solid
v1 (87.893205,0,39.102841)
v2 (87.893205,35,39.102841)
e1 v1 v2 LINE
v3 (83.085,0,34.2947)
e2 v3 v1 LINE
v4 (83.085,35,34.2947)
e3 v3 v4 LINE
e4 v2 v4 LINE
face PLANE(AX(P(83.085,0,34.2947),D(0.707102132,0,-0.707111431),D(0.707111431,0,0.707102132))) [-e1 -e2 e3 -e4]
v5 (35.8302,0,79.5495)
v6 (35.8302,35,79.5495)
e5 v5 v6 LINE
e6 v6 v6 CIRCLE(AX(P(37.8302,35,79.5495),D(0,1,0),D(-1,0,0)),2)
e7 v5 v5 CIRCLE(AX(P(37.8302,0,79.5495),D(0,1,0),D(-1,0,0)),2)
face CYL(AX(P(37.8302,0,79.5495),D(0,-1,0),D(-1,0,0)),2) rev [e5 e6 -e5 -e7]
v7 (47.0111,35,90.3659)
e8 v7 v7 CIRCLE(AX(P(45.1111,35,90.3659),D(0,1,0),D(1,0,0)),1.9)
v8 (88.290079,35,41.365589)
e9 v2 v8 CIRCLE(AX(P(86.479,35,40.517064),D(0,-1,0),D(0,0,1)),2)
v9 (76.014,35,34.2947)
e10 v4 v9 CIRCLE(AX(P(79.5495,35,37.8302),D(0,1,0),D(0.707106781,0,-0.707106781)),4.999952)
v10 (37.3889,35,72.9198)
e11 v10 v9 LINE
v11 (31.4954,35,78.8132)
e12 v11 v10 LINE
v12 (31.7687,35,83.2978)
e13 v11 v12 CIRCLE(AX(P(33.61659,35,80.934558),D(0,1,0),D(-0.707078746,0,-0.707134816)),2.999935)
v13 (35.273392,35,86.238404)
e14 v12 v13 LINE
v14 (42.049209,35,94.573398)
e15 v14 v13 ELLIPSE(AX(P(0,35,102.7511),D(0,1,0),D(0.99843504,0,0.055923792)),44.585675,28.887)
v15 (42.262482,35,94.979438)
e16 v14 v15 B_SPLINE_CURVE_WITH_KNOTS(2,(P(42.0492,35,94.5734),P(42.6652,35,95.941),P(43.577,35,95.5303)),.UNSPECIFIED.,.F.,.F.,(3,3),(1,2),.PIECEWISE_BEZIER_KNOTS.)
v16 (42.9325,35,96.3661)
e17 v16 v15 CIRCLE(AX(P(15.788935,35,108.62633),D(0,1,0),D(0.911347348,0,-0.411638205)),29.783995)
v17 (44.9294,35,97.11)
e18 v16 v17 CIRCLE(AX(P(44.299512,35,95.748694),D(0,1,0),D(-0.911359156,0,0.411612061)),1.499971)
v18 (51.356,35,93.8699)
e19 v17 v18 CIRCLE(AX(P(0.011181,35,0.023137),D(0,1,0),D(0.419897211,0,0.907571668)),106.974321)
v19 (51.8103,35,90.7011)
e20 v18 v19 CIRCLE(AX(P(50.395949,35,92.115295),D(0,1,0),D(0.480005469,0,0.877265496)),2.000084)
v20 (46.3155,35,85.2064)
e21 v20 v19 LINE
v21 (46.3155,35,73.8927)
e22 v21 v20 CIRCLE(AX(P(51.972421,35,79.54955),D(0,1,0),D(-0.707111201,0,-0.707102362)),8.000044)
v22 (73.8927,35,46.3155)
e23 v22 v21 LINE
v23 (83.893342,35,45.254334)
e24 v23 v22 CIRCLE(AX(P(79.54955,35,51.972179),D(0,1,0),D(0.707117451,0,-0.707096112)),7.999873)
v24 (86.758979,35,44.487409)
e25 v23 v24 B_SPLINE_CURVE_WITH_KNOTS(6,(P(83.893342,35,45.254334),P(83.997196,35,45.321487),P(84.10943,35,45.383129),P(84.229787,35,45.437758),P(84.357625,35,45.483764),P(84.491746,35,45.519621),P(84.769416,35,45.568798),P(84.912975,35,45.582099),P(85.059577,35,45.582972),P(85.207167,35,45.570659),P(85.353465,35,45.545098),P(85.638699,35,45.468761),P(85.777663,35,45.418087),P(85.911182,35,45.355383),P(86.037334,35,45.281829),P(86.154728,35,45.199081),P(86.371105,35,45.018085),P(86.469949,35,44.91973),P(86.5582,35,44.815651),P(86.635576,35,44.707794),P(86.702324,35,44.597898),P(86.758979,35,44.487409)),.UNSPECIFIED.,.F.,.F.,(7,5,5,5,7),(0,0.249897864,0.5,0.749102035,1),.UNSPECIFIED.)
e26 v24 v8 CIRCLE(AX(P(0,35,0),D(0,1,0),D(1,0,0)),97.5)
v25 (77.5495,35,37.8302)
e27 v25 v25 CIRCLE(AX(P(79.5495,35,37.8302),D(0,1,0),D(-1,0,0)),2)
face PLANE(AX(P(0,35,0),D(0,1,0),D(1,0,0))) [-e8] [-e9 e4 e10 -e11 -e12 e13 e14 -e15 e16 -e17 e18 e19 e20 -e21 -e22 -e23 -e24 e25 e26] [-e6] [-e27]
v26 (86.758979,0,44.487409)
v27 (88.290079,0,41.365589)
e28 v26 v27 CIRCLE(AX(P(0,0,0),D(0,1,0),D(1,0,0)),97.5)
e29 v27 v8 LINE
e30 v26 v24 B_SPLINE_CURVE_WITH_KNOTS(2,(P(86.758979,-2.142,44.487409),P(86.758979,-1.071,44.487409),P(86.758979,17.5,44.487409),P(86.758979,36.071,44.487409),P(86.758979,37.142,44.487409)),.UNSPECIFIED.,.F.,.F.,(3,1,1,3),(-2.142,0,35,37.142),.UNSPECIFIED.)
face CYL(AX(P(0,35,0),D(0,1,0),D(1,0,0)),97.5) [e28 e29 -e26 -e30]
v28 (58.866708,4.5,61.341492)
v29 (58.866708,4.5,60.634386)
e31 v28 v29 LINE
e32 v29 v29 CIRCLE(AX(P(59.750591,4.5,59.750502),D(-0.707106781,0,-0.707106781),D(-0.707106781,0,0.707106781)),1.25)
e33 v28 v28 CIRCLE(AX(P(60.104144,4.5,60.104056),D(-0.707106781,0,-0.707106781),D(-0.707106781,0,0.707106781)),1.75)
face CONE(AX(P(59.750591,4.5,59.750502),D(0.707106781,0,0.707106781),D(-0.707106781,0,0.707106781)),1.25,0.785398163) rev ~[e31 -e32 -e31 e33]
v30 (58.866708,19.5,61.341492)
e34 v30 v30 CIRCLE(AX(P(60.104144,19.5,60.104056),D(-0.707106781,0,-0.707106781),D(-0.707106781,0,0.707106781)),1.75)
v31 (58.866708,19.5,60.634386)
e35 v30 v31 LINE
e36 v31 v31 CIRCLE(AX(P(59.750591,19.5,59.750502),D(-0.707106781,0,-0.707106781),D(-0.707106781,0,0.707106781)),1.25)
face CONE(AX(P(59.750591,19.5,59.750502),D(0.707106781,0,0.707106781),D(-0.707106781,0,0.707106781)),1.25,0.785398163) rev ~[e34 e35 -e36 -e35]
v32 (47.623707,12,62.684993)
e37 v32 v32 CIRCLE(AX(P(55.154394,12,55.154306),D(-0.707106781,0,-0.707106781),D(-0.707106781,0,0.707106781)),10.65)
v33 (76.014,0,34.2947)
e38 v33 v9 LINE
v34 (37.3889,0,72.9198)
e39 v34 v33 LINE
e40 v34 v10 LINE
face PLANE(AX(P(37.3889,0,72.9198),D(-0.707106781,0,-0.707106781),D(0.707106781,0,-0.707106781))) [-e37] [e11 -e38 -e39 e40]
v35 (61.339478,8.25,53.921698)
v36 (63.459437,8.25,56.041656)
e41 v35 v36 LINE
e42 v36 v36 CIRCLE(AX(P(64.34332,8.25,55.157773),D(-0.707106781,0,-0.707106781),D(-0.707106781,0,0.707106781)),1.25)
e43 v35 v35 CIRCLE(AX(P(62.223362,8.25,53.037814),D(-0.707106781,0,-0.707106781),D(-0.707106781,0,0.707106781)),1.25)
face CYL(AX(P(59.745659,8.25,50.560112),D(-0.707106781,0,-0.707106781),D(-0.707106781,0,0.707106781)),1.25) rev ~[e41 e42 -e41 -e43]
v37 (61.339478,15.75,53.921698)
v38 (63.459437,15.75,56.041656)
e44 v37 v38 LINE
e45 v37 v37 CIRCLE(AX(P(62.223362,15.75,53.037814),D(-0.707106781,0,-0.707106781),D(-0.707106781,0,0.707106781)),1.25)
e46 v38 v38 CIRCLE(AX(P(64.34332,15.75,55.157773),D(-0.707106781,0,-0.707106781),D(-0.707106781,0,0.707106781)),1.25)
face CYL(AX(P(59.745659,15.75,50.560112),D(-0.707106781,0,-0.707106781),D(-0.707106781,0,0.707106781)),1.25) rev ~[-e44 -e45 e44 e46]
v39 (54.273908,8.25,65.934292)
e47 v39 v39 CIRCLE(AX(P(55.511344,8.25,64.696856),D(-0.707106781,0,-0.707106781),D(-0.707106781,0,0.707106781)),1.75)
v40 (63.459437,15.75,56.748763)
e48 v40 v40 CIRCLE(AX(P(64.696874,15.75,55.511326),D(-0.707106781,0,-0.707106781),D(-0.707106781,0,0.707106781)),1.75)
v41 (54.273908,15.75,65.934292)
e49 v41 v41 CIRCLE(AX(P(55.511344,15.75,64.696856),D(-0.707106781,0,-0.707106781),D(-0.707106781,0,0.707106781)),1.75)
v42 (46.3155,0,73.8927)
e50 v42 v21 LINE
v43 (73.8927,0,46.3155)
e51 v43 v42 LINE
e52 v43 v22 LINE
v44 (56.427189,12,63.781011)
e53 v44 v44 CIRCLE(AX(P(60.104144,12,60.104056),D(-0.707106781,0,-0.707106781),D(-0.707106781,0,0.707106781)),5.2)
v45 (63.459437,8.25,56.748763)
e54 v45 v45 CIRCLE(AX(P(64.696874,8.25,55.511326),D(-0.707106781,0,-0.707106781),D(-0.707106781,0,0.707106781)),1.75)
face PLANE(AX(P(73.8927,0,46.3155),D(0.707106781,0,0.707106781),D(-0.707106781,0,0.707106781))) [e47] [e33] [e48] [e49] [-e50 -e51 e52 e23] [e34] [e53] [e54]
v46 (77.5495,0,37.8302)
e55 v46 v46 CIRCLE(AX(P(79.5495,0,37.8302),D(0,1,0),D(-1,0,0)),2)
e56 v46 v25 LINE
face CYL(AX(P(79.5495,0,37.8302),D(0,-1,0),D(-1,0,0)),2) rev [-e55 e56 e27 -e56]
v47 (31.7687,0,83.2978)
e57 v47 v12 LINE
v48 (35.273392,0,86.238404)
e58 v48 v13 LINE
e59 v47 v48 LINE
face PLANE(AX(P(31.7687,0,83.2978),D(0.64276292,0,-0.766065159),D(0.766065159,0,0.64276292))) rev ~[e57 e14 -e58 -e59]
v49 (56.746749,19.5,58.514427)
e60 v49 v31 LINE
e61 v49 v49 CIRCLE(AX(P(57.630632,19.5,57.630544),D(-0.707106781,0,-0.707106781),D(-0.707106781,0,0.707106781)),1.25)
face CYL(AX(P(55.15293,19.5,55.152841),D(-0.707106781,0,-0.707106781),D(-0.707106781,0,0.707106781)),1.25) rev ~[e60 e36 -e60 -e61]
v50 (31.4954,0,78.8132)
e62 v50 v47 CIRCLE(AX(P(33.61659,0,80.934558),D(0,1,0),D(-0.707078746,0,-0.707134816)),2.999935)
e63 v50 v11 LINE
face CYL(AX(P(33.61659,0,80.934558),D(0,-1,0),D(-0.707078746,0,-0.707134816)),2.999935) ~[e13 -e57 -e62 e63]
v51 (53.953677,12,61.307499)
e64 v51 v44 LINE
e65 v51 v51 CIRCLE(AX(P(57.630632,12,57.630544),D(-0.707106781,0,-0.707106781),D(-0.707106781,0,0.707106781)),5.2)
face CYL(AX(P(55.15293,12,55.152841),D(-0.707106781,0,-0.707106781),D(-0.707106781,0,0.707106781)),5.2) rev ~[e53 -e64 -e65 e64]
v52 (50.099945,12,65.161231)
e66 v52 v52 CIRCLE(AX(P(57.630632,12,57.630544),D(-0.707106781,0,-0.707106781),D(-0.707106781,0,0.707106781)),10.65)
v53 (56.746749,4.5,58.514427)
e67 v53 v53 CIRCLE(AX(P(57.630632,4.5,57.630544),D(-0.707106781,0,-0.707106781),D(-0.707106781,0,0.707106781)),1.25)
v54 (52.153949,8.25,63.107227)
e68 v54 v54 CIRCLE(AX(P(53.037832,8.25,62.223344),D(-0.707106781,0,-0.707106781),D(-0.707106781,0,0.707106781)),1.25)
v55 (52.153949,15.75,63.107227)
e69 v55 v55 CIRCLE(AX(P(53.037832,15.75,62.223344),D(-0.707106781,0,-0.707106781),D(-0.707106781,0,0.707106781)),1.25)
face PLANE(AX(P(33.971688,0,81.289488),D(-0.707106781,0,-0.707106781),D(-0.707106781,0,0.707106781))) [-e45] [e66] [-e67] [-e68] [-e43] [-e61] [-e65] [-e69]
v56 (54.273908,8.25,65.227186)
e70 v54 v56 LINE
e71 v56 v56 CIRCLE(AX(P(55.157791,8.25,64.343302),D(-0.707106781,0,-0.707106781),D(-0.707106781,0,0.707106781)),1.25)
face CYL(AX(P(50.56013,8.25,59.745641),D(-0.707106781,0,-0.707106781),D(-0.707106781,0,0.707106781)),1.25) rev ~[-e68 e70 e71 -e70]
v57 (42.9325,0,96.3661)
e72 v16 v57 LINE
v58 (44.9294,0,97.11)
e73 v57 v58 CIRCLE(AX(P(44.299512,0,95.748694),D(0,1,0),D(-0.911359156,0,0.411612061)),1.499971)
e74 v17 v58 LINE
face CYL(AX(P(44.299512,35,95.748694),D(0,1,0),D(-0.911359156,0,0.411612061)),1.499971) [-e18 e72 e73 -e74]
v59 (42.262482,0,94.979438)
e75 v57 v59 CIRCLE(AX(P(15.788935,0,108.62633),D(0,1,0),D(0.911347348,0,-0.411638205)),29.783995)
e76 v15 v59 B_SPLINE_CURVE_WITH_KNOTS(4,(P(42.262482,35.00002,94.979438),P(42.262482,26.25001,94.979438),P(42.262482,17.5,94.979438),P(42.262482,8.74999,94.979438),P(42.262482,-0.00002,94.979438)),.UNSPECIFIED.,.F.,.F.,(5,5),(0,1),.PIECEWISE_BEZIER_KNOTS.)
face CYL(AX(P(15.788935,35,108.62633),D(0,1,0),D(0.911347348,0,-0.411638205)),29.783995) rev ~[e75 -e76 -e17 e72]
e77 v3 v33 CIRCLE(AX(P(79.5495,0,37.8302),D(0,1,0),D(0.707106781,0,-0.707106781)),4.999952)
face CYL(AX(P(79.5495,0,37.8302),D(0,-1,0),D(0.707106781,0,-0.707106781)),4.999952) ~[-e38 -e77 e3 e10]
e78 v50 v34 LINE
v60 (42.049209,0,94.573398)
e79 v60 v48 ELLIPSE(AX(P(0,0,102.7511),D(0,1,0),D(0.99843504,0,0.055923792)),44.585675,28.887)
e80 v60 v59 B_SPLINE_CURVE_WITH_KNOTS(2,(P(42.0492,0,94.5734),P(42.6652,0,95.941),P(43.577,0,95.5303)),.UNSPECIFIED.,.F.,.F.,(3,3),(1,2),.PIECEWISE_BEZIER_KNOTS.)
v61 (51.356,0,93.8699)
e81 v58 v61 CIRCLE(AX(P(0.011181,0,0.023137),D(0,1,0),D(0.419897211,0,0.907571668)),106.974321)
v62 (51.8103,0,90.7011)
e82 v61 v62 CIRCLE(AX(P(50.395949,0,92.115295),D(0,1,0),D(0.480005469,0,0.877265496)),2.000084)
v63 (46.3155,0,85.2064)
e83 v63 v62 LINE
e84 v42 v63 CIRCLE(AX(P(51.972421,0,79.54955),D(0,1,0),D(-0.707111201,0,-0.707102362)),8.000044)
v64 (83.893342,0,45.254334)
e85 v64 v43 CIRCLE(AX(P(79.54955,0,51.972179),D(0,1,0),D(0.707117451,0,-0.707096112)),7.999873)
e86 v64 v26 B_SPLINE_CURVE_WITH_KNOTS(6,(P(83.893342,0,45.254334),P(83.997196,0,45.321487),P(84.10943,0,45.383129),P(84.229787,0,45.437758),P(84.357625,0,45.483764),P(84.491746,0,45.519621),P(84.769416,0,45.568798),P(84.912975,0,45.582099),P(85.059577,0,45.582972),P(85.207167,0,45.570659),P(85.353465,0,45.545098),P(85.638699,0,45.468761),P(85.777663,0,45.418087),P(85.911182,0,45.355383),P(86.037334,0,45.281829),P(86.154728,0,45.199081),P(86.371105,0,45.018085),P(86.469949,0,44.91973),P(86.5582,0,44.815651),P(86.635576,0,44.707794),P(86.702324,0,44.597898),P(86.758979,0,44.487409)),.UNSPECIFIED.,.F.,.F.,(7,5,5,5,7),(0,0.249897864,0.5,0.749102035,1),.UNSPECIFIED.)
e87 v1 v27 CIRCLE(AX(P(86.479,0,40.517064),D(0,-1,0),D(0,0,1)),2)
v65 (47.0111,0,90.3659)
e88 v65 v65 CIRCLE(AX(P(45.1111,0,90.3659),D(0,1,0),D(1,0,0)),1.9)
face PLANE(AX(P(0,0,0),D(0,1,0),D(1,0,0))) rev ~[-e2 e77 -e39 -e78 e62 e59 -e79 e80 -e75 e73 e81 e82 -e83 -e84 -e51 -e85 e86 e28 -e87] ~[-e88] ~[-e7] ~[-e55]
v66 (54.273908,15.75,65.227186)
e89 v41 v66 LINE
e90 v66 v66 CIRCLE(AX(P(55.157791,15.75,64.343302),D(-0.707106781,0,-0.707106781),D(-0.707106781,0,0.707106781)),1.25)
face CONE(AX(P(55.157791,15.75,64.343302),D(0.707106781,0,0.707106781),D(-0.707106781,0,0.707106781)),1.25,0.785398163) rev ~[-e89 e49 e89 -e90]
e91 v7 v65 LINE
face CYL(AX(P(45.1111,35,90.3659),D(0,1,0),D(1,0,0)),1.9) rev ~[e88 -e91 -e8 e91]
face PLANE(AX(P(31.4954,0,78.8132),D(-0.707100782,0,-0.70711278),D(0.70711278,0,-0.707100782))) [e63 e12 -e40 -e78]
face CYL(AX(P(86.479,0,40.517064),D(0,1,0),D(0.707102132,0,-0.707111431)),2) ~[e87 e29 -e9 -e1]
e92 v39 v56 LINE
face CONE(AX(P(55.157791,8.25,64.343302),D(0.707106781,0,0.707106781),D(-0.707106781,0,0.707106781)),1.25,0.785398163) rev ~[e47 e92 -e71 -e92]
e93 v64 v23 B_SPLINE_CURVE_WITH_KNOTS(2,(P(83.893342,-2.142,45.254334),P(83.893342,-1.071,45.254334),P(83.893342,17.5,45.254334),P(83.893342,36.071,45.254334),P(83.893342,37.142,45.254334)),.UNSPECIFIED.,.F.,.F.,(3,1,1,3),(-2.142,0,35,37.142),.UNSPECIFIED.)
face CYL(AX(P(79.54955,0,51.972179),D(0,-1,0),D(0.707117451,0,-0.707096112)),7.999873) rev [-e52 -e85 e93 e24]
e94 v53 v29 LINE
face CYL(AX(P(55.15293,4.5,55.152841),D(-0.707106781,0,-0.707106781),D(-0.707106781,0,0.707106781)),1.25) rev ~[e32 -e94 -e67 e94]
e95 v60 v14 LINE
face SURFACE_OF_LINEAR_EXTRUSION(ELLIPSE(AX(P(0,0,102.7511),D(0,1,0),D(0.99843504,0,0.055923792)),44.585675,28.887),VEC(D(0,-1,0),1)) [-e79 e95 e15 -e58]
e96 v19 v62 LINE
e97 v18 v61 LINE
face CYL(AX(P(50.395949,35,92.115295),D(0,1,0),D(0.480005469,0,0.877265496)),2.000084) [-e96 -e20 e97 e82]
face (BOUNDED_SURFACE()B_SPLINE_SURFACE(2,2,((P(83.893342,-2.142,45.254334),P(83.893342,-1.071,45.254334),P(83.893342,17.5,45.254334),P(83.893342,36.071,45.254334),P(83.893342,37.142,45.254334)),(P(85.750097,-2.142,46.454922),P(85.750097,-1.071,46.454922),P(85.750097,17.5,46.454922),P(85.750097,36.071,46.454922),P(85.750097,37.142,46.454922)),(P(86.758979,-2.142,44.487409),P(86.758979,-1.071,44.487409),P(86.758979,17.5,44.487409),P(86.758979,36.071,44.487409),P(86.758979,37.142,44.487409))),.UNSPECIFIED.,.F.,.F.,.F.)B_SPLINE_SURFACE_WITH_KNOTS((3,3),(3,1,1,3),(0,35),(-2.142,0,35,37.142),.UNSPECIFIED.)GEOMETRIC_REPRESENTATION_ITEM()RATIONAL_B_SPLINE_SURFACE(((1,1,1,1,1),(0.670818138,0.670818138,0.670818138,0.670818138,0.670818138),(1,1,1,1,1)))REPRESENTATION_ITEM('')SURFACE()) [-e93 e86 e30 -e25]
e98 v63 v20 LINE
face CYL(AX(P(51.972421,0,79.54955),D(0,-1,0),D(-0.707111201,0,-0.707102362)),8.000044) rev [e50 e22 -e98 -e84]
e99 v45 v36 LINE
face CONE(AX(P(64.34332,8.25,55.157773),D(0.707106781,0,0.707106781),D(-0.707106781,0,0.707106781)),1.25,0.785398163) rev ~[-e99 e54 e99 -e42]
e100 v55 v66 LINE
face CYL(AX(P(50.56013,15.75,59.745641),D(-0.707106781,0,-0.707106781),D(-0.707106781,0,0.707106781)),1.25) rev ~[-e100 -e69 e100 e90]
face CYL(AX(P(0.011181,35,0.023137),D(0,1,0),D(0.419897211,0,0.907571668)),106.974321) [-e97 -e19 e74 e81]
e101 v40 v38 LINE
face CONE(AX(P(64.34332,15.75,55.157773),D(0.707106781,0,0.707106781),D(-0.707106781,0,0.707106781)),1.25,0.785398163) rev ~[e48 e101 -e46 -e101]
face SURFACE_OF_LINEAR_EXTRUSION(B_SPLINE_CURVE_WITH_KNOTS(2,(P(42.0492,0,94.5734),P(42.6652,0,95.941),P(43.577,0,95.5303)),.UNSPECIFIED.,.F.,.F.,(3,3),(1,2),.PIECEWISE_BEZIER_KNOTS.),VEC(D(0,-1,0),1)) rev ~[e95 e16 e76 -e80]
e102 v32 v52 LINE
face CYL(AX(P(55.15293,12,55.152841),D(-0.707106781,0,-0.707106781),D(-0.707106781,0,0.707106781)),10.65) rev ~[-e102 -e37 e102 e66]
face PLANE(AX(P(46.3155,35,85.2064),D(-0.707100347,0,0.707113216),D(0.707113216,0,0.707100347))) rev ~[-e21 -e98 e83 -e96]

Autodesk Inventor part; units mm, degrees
ref_plane "YZ Plane" through (0, 0, 0) normal (1, 0, 0) x (0, 1, 0)
ref_plane "XZ Plane" through (0, 0, 0) normal (0, 1, 0) x (-1, 0, 0)
ref_plane "XY Plane" through (0, 0, 0) normal (0, 0, 1) x (1, 0, 0)
sketch "Эскиз1" plane through (0, 0, 0) normal (0, 1, 0) x (-1, 0, 0)
  line L0 (34.2947, -76.014) -> (76.014, -34.2947)
  arc A0 (83.085, -34.2947) -> (76.014, -34.2947) centre (79.5495, -37.8302) ccw
  line L1 (83.085, -34.2947) -> (87.156, -38.3657)
  line L2 (46.3155, -73.8927) -> (73.8927, -46.3155)
  arc A1 (85.2064, -46.3155) -> (73.8927, -46.3155) centre (79.5495, -51.9723) ccw
  line L3 (85.2064, -46.3155) -> (87.5645, -48.6736)
  line L4 (92.5543, -49.5852) -> (94.5192, -45.7288)
  line L5 (87.156, -38.3657) -> (94.5192, -45.7288)
  line L6 (34.2947, -83.085) -> (38.3657, -87.156)
  arc A2 (34.2947, -76.014) -> (34.2947, -83.085) centre (37.8302, -79.5495) ccw
  arc A3 (46.3155, -73.8927) -> (46.3155, -85.2064) centre (51.9723, -79.5495) ccw
  line L7 (48.6736, -87.5645) -> (46.3155, -85.2064)
  line L8 (48.7014, -93.0224) -> (45.7288, -94.5192)
  line L9 (38.3657, -87.156) -> (45.7288, -94.5192)
  spline S0 degree 4 poles (87.5645, -48.6736) (88.1327, -49.2418) (88.8708, -49.8865) (89.7495, -50.471) (90.7127, -50.7263) (91.4939, -50.6999) (92.0261, -50.3682) (92.3519, -49.9478) (92.5543, -49.5852) knots 0 0 0 0 0 0.3763 0.501335 0.614666 0.722287 1 1 1 1 1
  spline S1 degree 4 poles (48.6736, -87.5645) (49.2196, -88.1111) (49.8318, -88.8375) (50.3553, -89.7359) (50.492, -90.7638) (50.3179, -91.6771) (49.7988, -92.3195) (49.2087, -92.7429) (48.7014, -93.0224) knots 0 0 0 0 0 0.349502 0.469309 0.582088 0.694155 1 1 1 1 1
  line L10 (-34.2947, -83.085) -> (-38.3657, -87.156)
  arc A4 (-34.2947, -83.085) -> (-34.2947, -76.014) centre (-37.8302, -79.5495) ccw
  line L11 (-34.2947, -76.014) -> (-76.014, -34.2947)
  arc A5 (-76.014, -34.2947) -> (-83.085, -34.2947) centre (-79.5495, -37.8302) ccw
  line L12 (-83.085, -34.2947) -> (-87.156, -38.3657)
  spline S2 degree 4 poles (-87.5645, -48.6736) (-88.2914, -48.9094) (-89.2091, -49.1493) (-90.2171, -49.3451) (-91.178, -49.4896) (-91.8014, -49.5703) (-92.1946, -49.6038) (-92.4379, -49.6109) (-92.5543, -49.5852) knots 0 0 0 0 0 0.418221 0.558077 0.681071 0.788407 1 1 1 1 1
  line L13 (-85.2064, -46.3155) -> (-87.5645, -48.6736)
  arc A6 (-73.8927, -46.3155) -> (-85.2064, -46.3155) centre (-79.5495, -51.9723) ccw
  line L14 (-46.3155, -73.8927) -> (-73.8927, -46.3155)
  arc A7 (-46.3155, -85.2064) -> (-46.3155, -73.8927) centre (-51.9723, -79.5495) ccw
  spline S3 degree 4 poles (-48.6736, -87.5645) (-49.2196, -88.1111) (-49.8318, -88.8375) (-50.3553, -89.7359) (-50.492, -90.7638) (-50.3179, -91.6771) (-49.7988, -92.3195) (-49.2087, -92.7429) (-48.7014, -93.0224) knots 0 0 0 0 0 0.349502 0.469309 0.582088 0.694155 1 1 1 1 1
  line L15 (-48.6736, -87.5645) -> (-46.3155, -85.2064)
  arc A8 (-92.5543, 49.5852) -> (-92.5543, -49.5852) centre (0, 0) ccw construction
  arc A9 (-48.7014, -93.0224) -> (48.7014, -93.0224) centre (0, 0) ccw construction
  line L16 (-38.3657, -87.156) -> (-45.7288, -94.5192)
  line L17 (-87.156, -38.3657) -> (-94.5192, -45.7288)
  line L18 (-92.5543, -49.5852) -> (-94.5192, -45.7288)
  line L19 (-48.7014, -93.0224) -> (-45.7288, -94.5192)
  line L20 (0, 0) -> (0, 95.3237) construction
  line L21 (34.2947, -76.014) -> (76.014, -34.2947)
  arc A10 (83.085, -34.2947) -> (76.014, -34.2947) centre (79.5495, -37.8302) ccw
  line L22 (83.085, -34.2947) -> (87.156, -38.3657)
  line L23 (46.3155, -73.8927) -> (73.8927, -46.3155)
  arc A11 (85.2064, -46.3155) -> (73.8927, -46.3155) centre (79.5495, -51.9723) ccw
  line L24 (85.2064, -46.3155) -> (87.5645, -48.6736)
  line L25 (92.5543, -49.5852) -> (94.5192, -45.7288)
  arc A12 (92.5543, -49.5852) -> (92.5543, 49.5852) centre (0, 0) ccw construction
  line L26 (87.156, -38.3657) -> (94.5192, -45.7288)
  line L27 (34.2947, -83.085) -> (38.3657, -87.156)
  arc A13 (34.2947, -76.014) -> (34.2947, -83.085) centre (37.8302, -79.5495) ccw
  arc A14 (46.3155, -73.8927) -> (46.3155, -85.2064) centre (51.9723, -79.5495) ccw
  line L28 (48.6736, -87.5645) -> (46.3155, -85.2064)
  line L29 (48.7014, -93.0224) -> (45.7288, -94.5192)
  line L30 (38.3657, -87.156) -> (45.7288, -94.5192)
  arc A15 (-48.7014, -93.0224) -> (48.7014, -93.0224) centre (0, 0) ccw construction
  spline S4 degree 4 poles (87.5645, -48.6736) (88.1327, -49.2418) (88.8708, -49.8865) (89.7495, -50.471) (90.7127, -50.7263) (91.4939, -50.6999) (92.0261, -50.3682) (92.3519, -49.9478) (92.5543, -49.5852) knots 0 0 0 0 0 0.3763 0.501335 0.614666 0.722287 1 1 1 1 1
  spline S5 degree 4 poles (48.6736, -87.5645) (49.2196, -88.1111) (49.8318, -88.8375) (50.3553, -89.7359) (50.492, -90.7638) (50.3179, -91.6771) (49.7988, -92.3195) (49.2087, -92.7429) (48.7014, -93.0224) knots 0 0 0 0 0 0.349502 0.469309 0.582088 0.694155 1 1 1 1 1
  line L31 (52.2091, 91.1) -> (48.6736, 87.5645) construction
  line L32 (52.2091, 91.1) -> (48.6736, 87.5645) construction
  line L33 (48.6736, 87.5645) -> (52.2091, 91.1) construction
  spline S6 degree 2 poles (48.6736, 87.5645) (52.2091, 91.1) (48.7014, 93.0224) knots 1 1 1 2 2 2 construction
  line L34 (52.2091, 91.1) -> (48.7014, 93.0224) construction
  line L35 (91.1, 52.2091) -> (52.2091, 91.1) construction
  arc A16 (92.5543, 49.5852) -> (48.7014, 93.0224) centre (0, 0) ccw construction
  line L36 (44.1942, 76.014) -> (76.014, 44.1942) construction
  line L37 (0, 56.6418) -> (-35.5516, 86.4744) construction
  arc A17 (0, 67.941) -> (23.7825, 76.5969) centre (0, 104.941) ccw construction
  arc A18 (-23.7825, 76.5969) -> (0, 67.941) centre (0, 104.941) ccw construction
  line L38 (-23.7825, 76.5969) -> (-35.2734, 86.2384) construction
  line L39 (0, 104.941) -> (-23.6028, 54.3247) construction
  arc A19 (-28.0199, 71.0163) -> (5.5413, 61.2914) centre (0, 104.941) ccw construction
  arc A20 (5.5413, 61.2914) -> (28.0199, 71.0163) centre (0, 104.941) ccw construction
  arc A21 (-30.6393, 73.2144) -> (-37.3889, 72.9198) centre (-33.8534, 69.3842) ccw construction
  line L40 (0, 56.6418) -> (23.7825, 76.5969) construction
  line L41 (23.7825, 76.5969) -> (35.2734, 86.2384) construction
  line L42 (0, 0) -> (74.2462, 74.2462) construction
  line L43 (42.6652, 95.941) -> (42.0492, 94.5734) construction
  line L44 (42.0492, 94.5734) -> (42.6652, 95.941) construction
  spline S7 degree 2 poles (42.0492, 94.5734) (42.6652, 95.941) (43.577, 95.5303) knots 1 1 1 2 2 2 construction
  line L45 (42.6652, 95.941) -> (43.577, 95.5303) construction
  arc A22 (-44.1942, 76.014) -> (-44.1942, 83.085) centre (-47.7297, 79.5495) ccw construction
  arc A23 (92.5543, -49.5852) -> (92.5543, 49.5852) centre (0, 0) ccw construction
  circle A24 centre (0, 0) radius 35 construction
  spline S8 degree 2 poles (-48.6736, 87.5645) (-52.2091, 91.1) (-48.7014, 93.0224) knots 1 1 1 2 2 2 construction
  line L46 (-48.6736, 87.5645) -> (-52.2091, 91.1) construction
  line L47 (-52.2091, 91.1) -> (-48.7014, 93.0224) construction
  arc A25 (-83.085, 44.1942) -> (-76.014, 44.1942) centre (-79.5495, 47.7297) ccw construction
  line L48 (-83.085, 44.1942) -> (-85.2064, 46.3155) construction
  line L49 (-44.1942, 76.014) -> (-46.3155, 73.8927) construction
  arc A26 (-48.7014, 93.0224) -> (-92.5543, 49.5852) centre (0, 0) ccw construction
  line L50 (-42.6652, 95.941) -> (-42.0492, 94.5734) construction
  arc A27 (-43.577, 95.5303) -> (-48.7014, 93.0224) centre (0, 0) ccw
  ellipse E0 centre (0, 102.7511) end of major axis (-44.5159, 105.2445) minor radius 28.887 (-42.0492, 94.5734) -> (-35.2734, 86.2384) ccw
  line L51 (-42.0492, 94.5734) -> (-42.6652, 95.941) construction
  spline S9 degree 2 poles (-42.0492, 94.5734) (-42.6652, 95.941) (-43.577, 95.5303) knots 1 1 1 2 2 2 construction
  line L52 (-42.6652, 95.941) -> (-43.577, 95.5303) construction
  line L53 (-42.0492, 94.5734) -> (-42.6652, 95.941) construction
  spline S10 degree 2 poles (-42.0492, 94.5734) (-42.6652, 95.941) (-43.577, 95.5303) knots 1 1 1 2 2 2
  line L54 (-42.6652, 95.941) -> (-43.577, 95.5303) construction
  line L55 (-42.6652, 95.941) -> (-43.577, 95.5303) construction
  line L56 (-44.1942, 83.085) -> (-48.6736, 87.5645) construction
  line L57 (-37.3889, 72.9198) -> (-76.014, 34.2947)
  arc A28 (-83.085, 34.2947) -> (-76.014, 34.2947) centre (-79.5495, 37.8302) ccw
  line L58 (-83.085, 34.2947) -> (-90.6891, 41.8987)
  arc A29 (-87.3563, 48.4654) -> (-90.6891, 41.8987) centre (0, 0) ccw construction
  line L59 (-93.5297, 47.6709) -> (-92.5543, 49.5852) construction
  arc A30 (85.2064, -46.3155) -> (73.8927, -46.3155) centre (79.5495, -51.9723) ccw construction
  line L60 (85.2064, -46.3155) -> (87.5645, -48.6736) construction
  spline S11 degree 2 poles (87.5645, -48.6736) (91.1, -52.2091) (92.5543, -49.5852) knots 1 1 1 2 2 2 construction
  line L61 (87.5645, -48.6736) -> (91.1, -52.2091) construction
  line L62 (91.1, -52.2091) -> (92.5543, -49.5852) construction
  line L63 (46.3155, -73.8927) -> (73.8927, -46.3155) construction
  line L64 (48.6736, -87.5645) -> (46.3155, -85.2064) construction
  line L65 (48.6736, -87.5645) -> (52.2091, -91.1) construction
  spline S12 degree 2 poles (48.6736, -87.5645) (52.2091, -91.1) (48.7014, -93.0224) knots 1 1 1 2 2 2 construction
  line L66 (52.2091, -91.1) -> (48.7014, -93.0224) construction
  arc A31 (46.3155, -73.8927) -> (46.3155, -85.2064) centre (51.9723, -79.5495) ccw construction
  arc A32 (48.7014, -93.0224) -> (92.5543, -49.5852) centre (0, 0) ccw construction
  arc A33 (-48.7014, -93.0224) -> (48.7014, -93.0224) centre (0, 0) ccw construction
  arc A34 (-90.6891, 41.8987) -> (-87.3563, 48.4654) centre (0, 0) ccw construction
  line L67 (42.6652, 95.941) -> (-42.6652, 95.941) construction
  line L68 (-48.6736, -87.5645) -> (-52.2091, -91.1) construction
  spline S13 degree 2 poles (-48.6736, -87.5645) (-52.2091, -91.1) (-48.7014, -93.0224) knots 1 1 1 2 2 2 construction
  line L69 (-52.2091, -91.1) -> (-48.7014, -93.0224) construction
  line L70 (-91.1, -52.2091) -> (-92.5543, -49.5852) construction
  spline S14 degree 2 poles (-87.5645, -48.6736) (-91.1, -52.2091) (-92.5543, -49.5852) knots 1 1 1 2 2 2 construction
  line L71 (-87.5645, -48.6736) -> (-91.1, -52.2091) construction
  arc A35 (-92.5543, -49.5852) -> (-48.7014, -93.0224) centre (0, 0) ccw construction
  line L72 (-48.6736, -87.5645) -> (-46.3155, -85.2064) construction
  arc A36 (-73.8927, -46.3155) -> (-85.2064, -46.3155) centre (-79.5495, -51.9723) ccw construction
  line L73 (-85.2064, -46.3155) -> (-87.5645, -48.6736) construction
  line L74 (-46.3155, -73.8927) -> (-73.8927, -46.3155) construction
  arc A37 (-46.3155, -85.2064) -> (-46.3155, -73.8927) centre (-51.9723, -79.5495) ccw construction
  arc A38 (-92.5543, 49.5852) -> (-92.5543, -49.5852) centre (0, 0) ccw construction
  arc A39 (44.1942, 83.085) -> (44.1942, 76.014) centre (47.7297, 79.5495) ccw construction
  arc A40 (44.0271, 95.3237) -> (43.577, 95.5303) centre (0, 0) ccw construction
  line L75 (42.6652, 95.941) -> (43.577, 95.5303) construction
  arc A41 (48.7014, 93.0224) -> (44.0271, 95.3237) centre (0, 0) ccw construction
  line L76 (52.2091, 91.1) -> (48.7014, 93.0224) construction
  line L77 (83.085, 44.1942) -> (87.5645, 48.6736) construction
  ellipse E1 centre (0, 102.7511) end of major axis (44.5159, 105.2445) minor radius 28.887 (35.2734, 86.2384) -> (42.0492, 94.5734) ccw construction
  arc A42 (76.014, 44.1942) -> (83.085, 44.1942) centre (79.5495, 47.7297) ccw construction
  line L78 (0, 0) -> (0, 209.8821) construction
  arc A43 (43.577, 95.5303) -> (-43.577, 95.5303) centre (0, 0) ccw construction
  arc A44 (23.7825, 76.5969) -> (0, 67.941) centre (0, 104.941) ccw construction
  line L79 (44.0271, 95.3237) -> (44.0271, 127.8162) construction
  ellipse E2 centre (0, 102.7511) end of major axis (44.0271, 102.7511) minor radius 27.5932 (42.0492, 94.5734) -> (35.2734, 86.2384) ccw construction
  line L80 (-30.6393, 73.2144) -> (-28.0199, 71.0163) construction
  arc A45 (28.0199, 71.0163) -> (-28.0199, 71.0163) centre (0, 104.941) ccw construction
  line L81 (30.6393, 73.2144) -> (28.0199, 71.0163) construction
  arc A46 (37.3889, 72.9198) -> (30.6393, 73.2144) centre (33.8534, 69.3842) ccw construction
  line L82 (44.0271, 95.3237) -> (43.577, 95.5303) construction
  arc A47 (44.1942, 83.085) -> (44.1942, 76.014) centre (47.7297, 79.5495) ccw construction
  line L83 (48.6736, 87.5645) -> (44.1942, 83.085) construction
  line L84 (37.3889, 72.9198) -> (76.014, 34.2947) construction
  line L85 (44.1942, 76.014) -> (76.014, 44.1942) construction
  arc A48 (76.014, 44.1942) -> (83.085, 44.1942) centre (79.5495, 47.7297) ccw construction
  arc A49 (76.014, 34.2947) -> (83.085, 34.2947) centre (79.5495, 37.8302) ccw construction
  line L86 (83.085, 44.1942) -> (87.3563, 48.4654) construction
  line L87 (83.085, 34.2947) -> (90.6891, 41.8987) construction
  arc A50 (90.6891, 41.8987) -> (87.3563, 48.4654) centre (0, 0) ccw construction
  arc A51 (-83.085, 34.2947) -> (-76.014, 34.2947) centre (-79.5495, 37.8302) ccw
  line L88 (-87.156, 38.3657) -> (-94.5192, 45.7288)
  line L89 (-93.0224, 48.7014) -> (-94.5192, 45.7288)
  arc A52 (-85.2064, 46.3155) -> (-73.8927, 46.3155) centre (-79.5495, 51.9723) ccw
  line L90 (-87.5645, 48.6736) -> (-85.2064, 46.3155)
  line L91 (-83.085, 34.2947) -> (-87.156, 38.3657)
  line L92 (-73.8927, 46.3155) -> (-46.3155, 73.8927)
  spline S15 degree 4 poles (-87.5645, 48.6736) (-88.1111, 49.2196) (-88.8375, 49.8318) (-89.7359, 50.3553) (-90.7638, 50.492) (-91.6771, 50.3179) (-92.3195, 49.7988) (-92.7429, 49.2087) (-93.0224, 48.7014) knots 0 0 0 0 0 0.349502 0.469309 0.582088 0.694155 1 1 1 1 1
  arc A53 (-34.2947, 76.014) -> (-34.2947, 83.085) centre (-37.8302, 79.5495) ccw construction
  line L93 (-34.2947, 83.085) -> (-38.3657, 87.156) construction
  arc A54 (-46.3155, 73.8927) -> (-46.3155, 85.2064) centre (-51.9723, 79.5495) ccw
  line L94 (-46.3155, 85.2064) -> (-48.6736, 87.5645)
  spline S16 degree 4 poles (-48.6736, 87.5645) (-49.2418, 88.1327) (-49.8865, 88.8708) (-50.471, 89.7495) (-50.7263, 90.7127) (-50.6999, 91.4939) (-50.3682, 92.0261) (-49.9478, 92.3519) (-49.5852, 92.5543) knots 0 0 0 0 0 0.3763 0.501335 0.614666 0.722287 1 1 1 1 1
  line L95 (-49.5852, 92.5543) -> (-45.7288, 94.5192)
  line L96 (-38.3657, 87.156) -> (-45.7288, 94.5192) construction
  arc A55 (-34.2947, 76.014) -> (-34.2947, 83.085) centre (-37.8302, 79.5495) ccw construction
  line L97 (-34.2947, 83.085) -> (-38.3657, 87.156) construction
  arc A56 (-46.3155, 73.8927) -> (-46.3155, 85.2064) centre (-51.9723, 79.5495) ccw
  line L98 (-46.3155, 85.2064) -> (-48.6736, 87.5645)
  spline S17 degree 4 poles (-48.6736, 87.5645) (-49.2418, 88.1327) (-49.8865, 88.8708) (-50.471, 89.7495) (-50.7263, 90.7127) (-50.6999, 91.4939) (-50.3682, 92.0261) (-49.9478, 92.3519) (-49.5852, 92.5543) knots 0 0 0 0 0 0.3763 0.501335 0.614666 0.722287 1 1 1 1 1
  line L99 (-49.5852, 92.5543) -> (-45.7288, 94.5192)
  line L100 (-38.3657, 87.156) -> (-45.7288, 94.5192) construction
  arc A57 (-83.085, 34.2947) -> (-76.014, 34.2947) centre (-79.5495, 37.8302) ccw
  line L101 (-83.085, 34.2947) -> (-87.156, 38.3657)
  line L102 (-87.156, 38.3657) -> (-94.5192, 45.7288)
  line L103 (-93.0224, 48.7014) -> (-94.5192, 45.7288)
  spline S18 degree 4 poles (-87.5645, 48.6736) (-88.1111, 49.2196) (-88.8375, 49.8318) (-89.7359, 50.3553) (-90.7638, 50.492) (-91.6771, 50.3179) (-92.3195, 49.7988) (-92.7429, 49.2087) (-93.0224, 48.7014) knots 0 0 0 0 0 0.349502 0.469309 0.582088 0.694155 1 1 1 1 1
  arc A58 (-85.2064, 46.3155) -> (-73.8927, 46.3155) centre (-79.5495, 51.9723) ccw
  line L104 (-76.014, 34.2947) -> (-34.2947, 76.014) construction
  line L105 (-73.8927, 46.3155) -> (-46.3155, 73.8927)
  line L106 (-87.5645, 48.6736) -> (-85.2064, 46.3155)
  line L107 (-87.5645, 48.6736) -> (-91.1, 52.2091) construction
  spline S19 degree 2 poles (-87.5645, 48.6736) (-91.1, 52.2091) (-93.0224, 48.7014) knots 1 1 1 2 2 2 construction
  line L108 (-91.1, 52.2091) -> (-93.0224, 48.7014) construction
  line L109 (-48.6736, 87.5645) -> (-52.2091, 91.1) construction
  spline S20 degree 2 poles (-48.6736, 87.5645) (-52.2091, 91.1) (-49.5852, 92.5543) knots 1 1 1 2 2 2 construction
  line L110 (-52.2091, 91.1) -> (-49.5852, 92.5543) construction
  arc A59 (-49.5852, 92.5543) -> (-93.0224, 48.7014) centre (0, 0) ccw construction
  arc A60 (-46.3155, 73.8927) -> (-46.3155, 85.2064) centre (-51.9723, 79.5495) ccw construction
  line L111 (-46.3155, 85.2064) -> (-48.6736, 87.5645) construction
  line L112 (-73.8927, 46.3155) -> (-46.3155, 73.8927) construction
  arc A61 (-85.2064, 46.3155) -> (-73.8927, 46.3155) centre (-79.5495, 51.9723) ccw construction
  line L113 (-87.5645, 48.6736) -> (-85.2064, 46.3155) construction
  line L114 (-60.1041, 60.1041) -> (-55.1543, 55.1543) construction
  circle A62 centre (-79.5495, 37.8302) radius 2
  circle A63 centre (-37.8302, 79.5495) radius 2
  arc A64 (-34.995, 78.2699) -> (-31.4954, 78.8132) centre (-33.6167, 80.9346) ccw construction
  arc A65 (-36.5845, 80.4956) -> (-34.995, 78.2699) centre (-33.6167, 80.9346) ccw construction
  arc A66 (-31.7687, 83.2978) -> (-36.5845, 80.4956) centre (-33.6167, 80.9346) ccw construction
  arc A67 (-31.4954, 78.8132) -> (-31.7687, 83.2978) centre (-33.6167, 80.9346) ccw
  line L115 (-31.4954, 78.8132) -> (-29.1816, 81.127) construction
  line L116 (-46.3155, 73.8927) -> (-73.8927, 46.3155)
  line L117 (-73.8927, 46.3155) -> (-76.014, 44.1942) construction
  line L118 (-85.2064, 46.3155) -> (-87.3563, 48.4654)
  line L119 (-31.7687, 83.2978) -> (-35.2734, 86.2384)
  line L120 (99.9, 0) -> (-99.9, 0) construction
  line L121 (-31.4954, 78.8132) -> (-37.3889, 72.9198)
  point P0 (49.5385, -88.5397)
  point P1 (50.0866, -89.3893)
  point P2 (50.374, -90.1304)
  point P3 (50.4468, -90.7861)
  point P4 (50.3313, -91.3833)
  point P5 (50.0252, -91.9468)
  point P6 (49.4982, -92.4922)
  point P7 (88.5759, -49.5937)
  point P8 (89.4338, -50.2024)
  point P9 (90.1559, -50.5529)
  point P10 (90.7644, -50.6948)
  point P11 (91.2858, -50.6665)
  point P12 (91.7467, -50.4838)
  point P13 (92.1672, -50.1352)
  point P14 (-49.5385, -88.5397)
  point P15 (-50.0866, -89.3893)
  point P16 (-50.374, -90.1304)
  point P17 (-50.4468, -90.7861)
  point P18 (-50.3313, -91.3833)
  point P19 (-50.0252, -91.9468)
  point P20 (-49.4982, -92.4922)
  point P21 (-88.809, -49.0312)
  point P22 (-89.8238, -49.2591)
  point P23 (-90.6293, -49.404)
  point P24 (-91.255, -49.4978)
  point P25 (-91.7362, -49.5581)
  point P26 (-92.1042, -49.5923)
  point P27 (-92.3767, -49.6023)
  point P28 (88.5759, -49.5937)
  point P29 (89.4338, -50.2024)
  point P30 (90.1559, -50.5529)
  point P31 (90.7644, -50.6948)
  point P32 (91.2858, -50.6665)
  point P33 (91.7467, -50.4838)
  point P34 (92.1672, -50.1352)
  point P35 (49.5385, -88.5397)
  point P36 (50.0866, -89.3893)
  point P37 (50.374, -90.1304)
  point P38 (50.4468, -90.7861)
  point P39 (50.3313, -91.3833)
  point P40 (50.0252, -91.9468)
  point P41 (49.4982, -92.4922)
  point P42 (79.5495, 40.6586)
  point P43 (40.6586, 79.5495)
  point P44 (60.1041, 60.1041)
  point P45 (-23.542, 76.3968)
  point P46 (-34.9935, 86.0061)
  point P47 (0, 95.941)
  point P48 (-15.6369, 71.4076)
  point P49 (-13.2817, 58.6489)
  point P50 (-28.5452, 71.4571)
  point P51 (13.2817, 58.6489)
  point P52 (-87.5645, 48.6736)
  point P53 (0, 105)
  point P54 (-94.5192, 45.7288)
  point P55 (0, 95.941)
  point P56 (-88.5397, 49.5385)
  point P57 (-89.3893, 50.0866)
  point P58 (-90.1304, 50.374)
  point P59 (-90.7861, 50.4468)
  point P60 (-91.3833, 50.3313)
  point P61 (-91.9468, 50.0252)
  point P62 (-92.4922, 49.4982)
  point P63 (-49.5937, 88.5759)
  point P64 (-50.2024, 89.4338)
  point P65 (-50.5529, 90.1559)
  point P66 (-50.6948, 90.7644)
  point P67 (-50.6665, 91.2858)
  point P68 (-50.4838, 91.7467)
  point P69 (-50.1352, 92.1672)
  point P70 (-49.5937, 88.5759)
  point P71 (-50.2024, 89.4338)
  point P72 (-50.5529, 90.1559)
  point P73 (-50.6948, 90.7644)
  point P74 (-50.6665, 91.2858)
  point P75 (-50.4838, 91.7467)
  point P76 (-50.1352, 92.1672)
  point P77 (-88.5397, 49.5385)
  point P78 (-89.3893, 50.0866)
  point P79 (-90.1304, 50.374)
  point P80 (-90.7861, 50.4468)
  point P81 (-91.3833, 50.3313)
  point P82 (-91.9468, 50.0252)
  point P83 (-92.4922, 49.4982)
  dimension "d63" = 44.5856
  dimension "d44" = 74
  dimension "d45" = 100
  dimension "d46" = 28
  dimension "d47" = 15
  dimension "d48" = 45
  dimension "d49" = 55
  dimension "d50" = 16.3348
  dimension "d51" = 27.5
  dimension "d52" = 5
  dimension "d53" = 5
  dimension "d54" = 1
  dimension "d55" = 1.5
  dimension "d56" = 1.5
  dimension "d57" = 1
  dimension "d58" = 4
  dimension "d59" = 70
  dimension "d60" = 85
  dimension "d61" = 105
  dimension "d62" = 1.3619
  dimension "d64" = 88
  dimension "d65" = 7
  dimension "d66" = 5
  dimension "d67" = 7
  dimension "d68" = 5
  dimension "d69" = 7
  dimension "d70" = 5
  dimension "d71" = 5.1
  dimension "d72" = 4
  dimension "d73" = 6
extrude "Выдавливание10" add sketch "Эскиз1" along normal blind 35 contours S10 E0 L119 A67 L121 L57 A28 L58 L88 L89 S15 L90 A52 L92 A54 L94 S16 L95 A27
sketch "Эскиз6" plane through (31.4954, 0, 78.8132) normal (-0.7071, 0, -0.7071) x (-0.7071, 0, 0.7071)
  line L0 (-5.9588, 35) -> (-1.9588, 35) construction
  line L1 (-64.9588, 35) -> (-60.9588, 35) construction
  line L2 (-60.9588, 0) -> (-64.9588, 0) construction
  line L3 (-5.8588, 0) -> (-2.0588, 0) construction
  line L4 (-62.9588, 0) -> (-67.9588, 0) construction
  line L5 (-62.9588, 35) -> (-62.9588, 0) construction
  line L6 (-62.9588, 35) -> (0, 35) construction
  line L7 (-121.9588, 35) -> (-121.9588, 0) construction
  line L8 (-62.9588, 0) -> (0, 0) construction
  circle A0 centre (-33.4588, 12) radius 10.65
  circle A1 centre (-33.4588, 12) radius 7.5 construction
  circle A2 centre (-33.4588, 12) radius 5.2
  circle A3 centre (-33.4588, 19.5) radius 1.25
  line L9 (-33.4588, 12) -> (-33.4588, 35) construction
  line L10 (-13.9588, 35) -> (-52.9588, 35) construction
  circle A4 centre (-39.9539, 15.75) radius 1.25
  circle A5 centre (-39.9539, 8.25) radius 1.25
  circle A6 centre (-33.4588, 4.5) radius 1.25
  circle A7 centre (-26.9636, 8.25) radius 1.25
  circle A8 centre (-26.9636, 15.75) radius 1.25
  point P0 (-33.4588, 0)
  dimension "d82" = 15
  dimension "d80" = 59
  dimension "d81" = 21.3
  dimension "d83" = 10.4
  dimension "d84" = 2.5
  dimension "d87" = 360
  dimension "d96" = 12
extrude "Выдавливание13" cut sketch "Эскиз6" against normal mid plane 33.5 contours A2 | A3 | A4 | A5 | A6 | A7 | A8
extrude "Выдавливание14" cut sketch "Эскиз6" against normal blind 3.5
chamfer "Фаска3" distance 0.5 angle 45 6 edges at (60.988, 19.5, 59.2202) (65.5808, 15.75, 54.6274) (65.5808, 8.25, 54.6274) (60.988, 4.5, 59.2202) (56.3952, 8.25, 63.813) (56.3952, 15.75, 63.813)
sketch "Эскиз7" plane through (0, 35, 0) normal (0, 1, 0) x (1, 0, 0)
  circle A0 centre (0, 0) radius 97.5
  line L0 (82.9685, -51.2101) -> (104.6339, -55.7476)
  line L1 (104.6339, -55.7476) -> (90.7874, -35.5513)
  dimension "d97" = 195
extrude "Выдавливание15" cut sketch "Эскиз7" against normal blind 41.5 contours A0 L1 L0
fillet "Сопряжение1" radius 2 2 edges at (85.5892, 17.5, 46.6983) (88.8777, 17.5, 40.0874)
sketch "Эскиз8" plane through (0, 35, 0) normal (0, 1, 0) x (1, 0, 0)
  arc A0 (88.2901, -41.3656) -> (87.8932, -39.1028) centre (86.479, -40.5171) ccw construction
  line L0 (87.8932, -39.1028) -> (83.085, -34.2947) construction
  arc A1 (83.085, -34.2947) -> (76.014, -34.2947) centre (79.5495, -37.8302) ccw construction
  line L1 (76.014, -34.2947) -> (31.4954, -78.8132) construction
  arc A2 (31.4954, -78.8132) -> (31.7687, -83.2978) centre (33.6167, -80.9346) ccw construction
  line L2 (31.7687, -83.2978) -> (35.2734, -86.2384) construction
  ellipse E0 centre (0, -102.7511) end of major axis (-44.5159, -100.2577) minor radius 28.887 (42.0492, -94.5734) -> (35.2734, -86.2384) ccw projected
  arc A3 (43.577, -95.5303) -> (45.7288, -94.5192) centre (0, 0) ccw construction
  line L3 (45.7288, -94.5192) -> (49.5852, -92.5543) construction
  line L4 (48.6736, -87.5645) -> (46.3155, -85.2064) construction
  arc A4 (46.3155, -73.8927) -> (46.3155, -85.2064) centre (51.9723, -79.5495) ccw construction
  line L5 (46.3155, -73.8927) -> (73.8927, -46.3155) construction
  arc A5 (83.8933, -45.2544) -> (73.8927, -46.3155) centre (79.5495, -51.9723) ccw construction
  arc A6 (83.8933, -45.2544) -> (86.759, -44.4874) centre (84.9793, -43.5749) ccw construction
  arc A7 (86.759, -44.4874) -> (88.2901, -41.3656) centre (0, 0) ccw construction
  circle A8 centre (79.5495, -37.8302) radius 2 construction
  circle A9 centre (37.8302, -79.5495) radius 2 construction
  circle A10 centre (0, 0) radius 107 construction
  line L6 (48.6736, -87.5645) -> (46.3155, -85.2064) construction
  line L7 (46.3155, -85.2064) -> (51.8103, -90.7011)
  ellipse E1 centre (0, -102.7511) end of major axis (-44.5159, -100.2577) minor radius 28.887 (42.0492, -94.5734) -> (35.2734, -86.2384) ccw construction
  arc A11 (42.9325, -96.3661) -> (42.0492, -94.5734) centre (15.8212, -108.6111) ccw
  arc A12 (44.9294, -97.11) -> (51.356, -93.8699) centre (0, 0) ccw
  arc A13 (42.9325, -96.3661) -> (44.9294, -97.11) centre (44.2996, -95.7486) ccw
  arc A14 (51.356, -93.8699) -> (51.8103, -90.7011) centre (50.3961, -92.1154) ccw
  line L8 (42.0492, -94.5734) -> (46.3155, -85.2064)
  point P0 (53.6735, -92.5643)
  dimension "d101" = 214
  dimension "d102" = 1.5
  dimension "d103" = 2
extrude "Выдавливание16" add sketch "Эскиз8" against normal up to surface (35 mm away)
sketch "Эскиз9" plane through (0, 35, 0) normal (0, 1, 0) x (1, 0, 0)
  circle A0 centre (79.5495, -37.8302) radius 2 construction
  circle A1 centre (37.8302, -79.5495) radius 2 construction
  arc A2 (42.9325, -96.3661) -> (42.2626, -94.9797) centre (15.8212, -108.6111) ccw construction
  arc A3 (42.9325, -96.3661) -> (44.9294, -97.11) centre (44.2996, -95.7486) ccw construction
  arc A4 (44.9294, -97.11) -> (51.356, -93.8699) centre (0, 0) ccw construction
  arc A5 (51.356, -93.8699) -> (51.8103, -90.7011) centre (50.3961, -92.1154) ccw construction
  line L0 (51.8103, -90.7011) -> (46.3155, -85.2064) construction
  arc A6 (46.3155, -73.8927) -> (46.3155, -85.2064) centre (51.9723, -79.5495) ccw construction
  line L1 (46.3155, -73.8927) -> (73.8927, -46.3155) construction
  arc A7 (83.8933, -45.2544) -> (73.8927, -46.3155) centre (79.5495, -51.9723) ccw construction
  arc A8 (83.8933, -45.2544) -> (86.759, -44.4874) centre (84.9793, -43.5749) ccw construction
  arc A9 (86.759, -44.4874) -> (88.2901, -41.3656) centre (0, 0) ccw construction
  arc A10 (88.2901, -41.3656) -> (87.8932, -39.1028) centre (86.479, -40.5171) ccw construction
  line L2 (87.8932, -39.1028) -> (83.085, -34.2947) construction
  arc A11 (83.085, -34.2947) -> (76.014, -34.2947) centre (79.5495, -37.8302) ccw construction
  line L3 (76.014, -34.2947) -> (31.4954, -78.8132) construction
  arc A12 (31.4954, -78.8132) -> (31.7687, -83.2978) centre (33.6167, -80.9346) ccw construction
  line L4 (31.7687, -83.2978) -> (35.2734, -86.2384) construction
  ellipse E0 centre (0, -102.7511) end of major axis (-44.5159, -100.2577) minor radius 28.887 (42.0492, -94.5734) -> (35.2734, -86.2384) ccw construction
  circle A13 centre (0, 0) radius 101 construction
  circle A14 centre (45.1111, -90.3659) radius 1.9
  dimension "d106" = 202
  dimension "d107" = 3.8
  dimension "d108" = 4.5
extrude "Выдавливание17" cut sketch "Эскиз9" against normal up to surface (35 mm away)
properties part number "_3DПЕЧАТЬ"
